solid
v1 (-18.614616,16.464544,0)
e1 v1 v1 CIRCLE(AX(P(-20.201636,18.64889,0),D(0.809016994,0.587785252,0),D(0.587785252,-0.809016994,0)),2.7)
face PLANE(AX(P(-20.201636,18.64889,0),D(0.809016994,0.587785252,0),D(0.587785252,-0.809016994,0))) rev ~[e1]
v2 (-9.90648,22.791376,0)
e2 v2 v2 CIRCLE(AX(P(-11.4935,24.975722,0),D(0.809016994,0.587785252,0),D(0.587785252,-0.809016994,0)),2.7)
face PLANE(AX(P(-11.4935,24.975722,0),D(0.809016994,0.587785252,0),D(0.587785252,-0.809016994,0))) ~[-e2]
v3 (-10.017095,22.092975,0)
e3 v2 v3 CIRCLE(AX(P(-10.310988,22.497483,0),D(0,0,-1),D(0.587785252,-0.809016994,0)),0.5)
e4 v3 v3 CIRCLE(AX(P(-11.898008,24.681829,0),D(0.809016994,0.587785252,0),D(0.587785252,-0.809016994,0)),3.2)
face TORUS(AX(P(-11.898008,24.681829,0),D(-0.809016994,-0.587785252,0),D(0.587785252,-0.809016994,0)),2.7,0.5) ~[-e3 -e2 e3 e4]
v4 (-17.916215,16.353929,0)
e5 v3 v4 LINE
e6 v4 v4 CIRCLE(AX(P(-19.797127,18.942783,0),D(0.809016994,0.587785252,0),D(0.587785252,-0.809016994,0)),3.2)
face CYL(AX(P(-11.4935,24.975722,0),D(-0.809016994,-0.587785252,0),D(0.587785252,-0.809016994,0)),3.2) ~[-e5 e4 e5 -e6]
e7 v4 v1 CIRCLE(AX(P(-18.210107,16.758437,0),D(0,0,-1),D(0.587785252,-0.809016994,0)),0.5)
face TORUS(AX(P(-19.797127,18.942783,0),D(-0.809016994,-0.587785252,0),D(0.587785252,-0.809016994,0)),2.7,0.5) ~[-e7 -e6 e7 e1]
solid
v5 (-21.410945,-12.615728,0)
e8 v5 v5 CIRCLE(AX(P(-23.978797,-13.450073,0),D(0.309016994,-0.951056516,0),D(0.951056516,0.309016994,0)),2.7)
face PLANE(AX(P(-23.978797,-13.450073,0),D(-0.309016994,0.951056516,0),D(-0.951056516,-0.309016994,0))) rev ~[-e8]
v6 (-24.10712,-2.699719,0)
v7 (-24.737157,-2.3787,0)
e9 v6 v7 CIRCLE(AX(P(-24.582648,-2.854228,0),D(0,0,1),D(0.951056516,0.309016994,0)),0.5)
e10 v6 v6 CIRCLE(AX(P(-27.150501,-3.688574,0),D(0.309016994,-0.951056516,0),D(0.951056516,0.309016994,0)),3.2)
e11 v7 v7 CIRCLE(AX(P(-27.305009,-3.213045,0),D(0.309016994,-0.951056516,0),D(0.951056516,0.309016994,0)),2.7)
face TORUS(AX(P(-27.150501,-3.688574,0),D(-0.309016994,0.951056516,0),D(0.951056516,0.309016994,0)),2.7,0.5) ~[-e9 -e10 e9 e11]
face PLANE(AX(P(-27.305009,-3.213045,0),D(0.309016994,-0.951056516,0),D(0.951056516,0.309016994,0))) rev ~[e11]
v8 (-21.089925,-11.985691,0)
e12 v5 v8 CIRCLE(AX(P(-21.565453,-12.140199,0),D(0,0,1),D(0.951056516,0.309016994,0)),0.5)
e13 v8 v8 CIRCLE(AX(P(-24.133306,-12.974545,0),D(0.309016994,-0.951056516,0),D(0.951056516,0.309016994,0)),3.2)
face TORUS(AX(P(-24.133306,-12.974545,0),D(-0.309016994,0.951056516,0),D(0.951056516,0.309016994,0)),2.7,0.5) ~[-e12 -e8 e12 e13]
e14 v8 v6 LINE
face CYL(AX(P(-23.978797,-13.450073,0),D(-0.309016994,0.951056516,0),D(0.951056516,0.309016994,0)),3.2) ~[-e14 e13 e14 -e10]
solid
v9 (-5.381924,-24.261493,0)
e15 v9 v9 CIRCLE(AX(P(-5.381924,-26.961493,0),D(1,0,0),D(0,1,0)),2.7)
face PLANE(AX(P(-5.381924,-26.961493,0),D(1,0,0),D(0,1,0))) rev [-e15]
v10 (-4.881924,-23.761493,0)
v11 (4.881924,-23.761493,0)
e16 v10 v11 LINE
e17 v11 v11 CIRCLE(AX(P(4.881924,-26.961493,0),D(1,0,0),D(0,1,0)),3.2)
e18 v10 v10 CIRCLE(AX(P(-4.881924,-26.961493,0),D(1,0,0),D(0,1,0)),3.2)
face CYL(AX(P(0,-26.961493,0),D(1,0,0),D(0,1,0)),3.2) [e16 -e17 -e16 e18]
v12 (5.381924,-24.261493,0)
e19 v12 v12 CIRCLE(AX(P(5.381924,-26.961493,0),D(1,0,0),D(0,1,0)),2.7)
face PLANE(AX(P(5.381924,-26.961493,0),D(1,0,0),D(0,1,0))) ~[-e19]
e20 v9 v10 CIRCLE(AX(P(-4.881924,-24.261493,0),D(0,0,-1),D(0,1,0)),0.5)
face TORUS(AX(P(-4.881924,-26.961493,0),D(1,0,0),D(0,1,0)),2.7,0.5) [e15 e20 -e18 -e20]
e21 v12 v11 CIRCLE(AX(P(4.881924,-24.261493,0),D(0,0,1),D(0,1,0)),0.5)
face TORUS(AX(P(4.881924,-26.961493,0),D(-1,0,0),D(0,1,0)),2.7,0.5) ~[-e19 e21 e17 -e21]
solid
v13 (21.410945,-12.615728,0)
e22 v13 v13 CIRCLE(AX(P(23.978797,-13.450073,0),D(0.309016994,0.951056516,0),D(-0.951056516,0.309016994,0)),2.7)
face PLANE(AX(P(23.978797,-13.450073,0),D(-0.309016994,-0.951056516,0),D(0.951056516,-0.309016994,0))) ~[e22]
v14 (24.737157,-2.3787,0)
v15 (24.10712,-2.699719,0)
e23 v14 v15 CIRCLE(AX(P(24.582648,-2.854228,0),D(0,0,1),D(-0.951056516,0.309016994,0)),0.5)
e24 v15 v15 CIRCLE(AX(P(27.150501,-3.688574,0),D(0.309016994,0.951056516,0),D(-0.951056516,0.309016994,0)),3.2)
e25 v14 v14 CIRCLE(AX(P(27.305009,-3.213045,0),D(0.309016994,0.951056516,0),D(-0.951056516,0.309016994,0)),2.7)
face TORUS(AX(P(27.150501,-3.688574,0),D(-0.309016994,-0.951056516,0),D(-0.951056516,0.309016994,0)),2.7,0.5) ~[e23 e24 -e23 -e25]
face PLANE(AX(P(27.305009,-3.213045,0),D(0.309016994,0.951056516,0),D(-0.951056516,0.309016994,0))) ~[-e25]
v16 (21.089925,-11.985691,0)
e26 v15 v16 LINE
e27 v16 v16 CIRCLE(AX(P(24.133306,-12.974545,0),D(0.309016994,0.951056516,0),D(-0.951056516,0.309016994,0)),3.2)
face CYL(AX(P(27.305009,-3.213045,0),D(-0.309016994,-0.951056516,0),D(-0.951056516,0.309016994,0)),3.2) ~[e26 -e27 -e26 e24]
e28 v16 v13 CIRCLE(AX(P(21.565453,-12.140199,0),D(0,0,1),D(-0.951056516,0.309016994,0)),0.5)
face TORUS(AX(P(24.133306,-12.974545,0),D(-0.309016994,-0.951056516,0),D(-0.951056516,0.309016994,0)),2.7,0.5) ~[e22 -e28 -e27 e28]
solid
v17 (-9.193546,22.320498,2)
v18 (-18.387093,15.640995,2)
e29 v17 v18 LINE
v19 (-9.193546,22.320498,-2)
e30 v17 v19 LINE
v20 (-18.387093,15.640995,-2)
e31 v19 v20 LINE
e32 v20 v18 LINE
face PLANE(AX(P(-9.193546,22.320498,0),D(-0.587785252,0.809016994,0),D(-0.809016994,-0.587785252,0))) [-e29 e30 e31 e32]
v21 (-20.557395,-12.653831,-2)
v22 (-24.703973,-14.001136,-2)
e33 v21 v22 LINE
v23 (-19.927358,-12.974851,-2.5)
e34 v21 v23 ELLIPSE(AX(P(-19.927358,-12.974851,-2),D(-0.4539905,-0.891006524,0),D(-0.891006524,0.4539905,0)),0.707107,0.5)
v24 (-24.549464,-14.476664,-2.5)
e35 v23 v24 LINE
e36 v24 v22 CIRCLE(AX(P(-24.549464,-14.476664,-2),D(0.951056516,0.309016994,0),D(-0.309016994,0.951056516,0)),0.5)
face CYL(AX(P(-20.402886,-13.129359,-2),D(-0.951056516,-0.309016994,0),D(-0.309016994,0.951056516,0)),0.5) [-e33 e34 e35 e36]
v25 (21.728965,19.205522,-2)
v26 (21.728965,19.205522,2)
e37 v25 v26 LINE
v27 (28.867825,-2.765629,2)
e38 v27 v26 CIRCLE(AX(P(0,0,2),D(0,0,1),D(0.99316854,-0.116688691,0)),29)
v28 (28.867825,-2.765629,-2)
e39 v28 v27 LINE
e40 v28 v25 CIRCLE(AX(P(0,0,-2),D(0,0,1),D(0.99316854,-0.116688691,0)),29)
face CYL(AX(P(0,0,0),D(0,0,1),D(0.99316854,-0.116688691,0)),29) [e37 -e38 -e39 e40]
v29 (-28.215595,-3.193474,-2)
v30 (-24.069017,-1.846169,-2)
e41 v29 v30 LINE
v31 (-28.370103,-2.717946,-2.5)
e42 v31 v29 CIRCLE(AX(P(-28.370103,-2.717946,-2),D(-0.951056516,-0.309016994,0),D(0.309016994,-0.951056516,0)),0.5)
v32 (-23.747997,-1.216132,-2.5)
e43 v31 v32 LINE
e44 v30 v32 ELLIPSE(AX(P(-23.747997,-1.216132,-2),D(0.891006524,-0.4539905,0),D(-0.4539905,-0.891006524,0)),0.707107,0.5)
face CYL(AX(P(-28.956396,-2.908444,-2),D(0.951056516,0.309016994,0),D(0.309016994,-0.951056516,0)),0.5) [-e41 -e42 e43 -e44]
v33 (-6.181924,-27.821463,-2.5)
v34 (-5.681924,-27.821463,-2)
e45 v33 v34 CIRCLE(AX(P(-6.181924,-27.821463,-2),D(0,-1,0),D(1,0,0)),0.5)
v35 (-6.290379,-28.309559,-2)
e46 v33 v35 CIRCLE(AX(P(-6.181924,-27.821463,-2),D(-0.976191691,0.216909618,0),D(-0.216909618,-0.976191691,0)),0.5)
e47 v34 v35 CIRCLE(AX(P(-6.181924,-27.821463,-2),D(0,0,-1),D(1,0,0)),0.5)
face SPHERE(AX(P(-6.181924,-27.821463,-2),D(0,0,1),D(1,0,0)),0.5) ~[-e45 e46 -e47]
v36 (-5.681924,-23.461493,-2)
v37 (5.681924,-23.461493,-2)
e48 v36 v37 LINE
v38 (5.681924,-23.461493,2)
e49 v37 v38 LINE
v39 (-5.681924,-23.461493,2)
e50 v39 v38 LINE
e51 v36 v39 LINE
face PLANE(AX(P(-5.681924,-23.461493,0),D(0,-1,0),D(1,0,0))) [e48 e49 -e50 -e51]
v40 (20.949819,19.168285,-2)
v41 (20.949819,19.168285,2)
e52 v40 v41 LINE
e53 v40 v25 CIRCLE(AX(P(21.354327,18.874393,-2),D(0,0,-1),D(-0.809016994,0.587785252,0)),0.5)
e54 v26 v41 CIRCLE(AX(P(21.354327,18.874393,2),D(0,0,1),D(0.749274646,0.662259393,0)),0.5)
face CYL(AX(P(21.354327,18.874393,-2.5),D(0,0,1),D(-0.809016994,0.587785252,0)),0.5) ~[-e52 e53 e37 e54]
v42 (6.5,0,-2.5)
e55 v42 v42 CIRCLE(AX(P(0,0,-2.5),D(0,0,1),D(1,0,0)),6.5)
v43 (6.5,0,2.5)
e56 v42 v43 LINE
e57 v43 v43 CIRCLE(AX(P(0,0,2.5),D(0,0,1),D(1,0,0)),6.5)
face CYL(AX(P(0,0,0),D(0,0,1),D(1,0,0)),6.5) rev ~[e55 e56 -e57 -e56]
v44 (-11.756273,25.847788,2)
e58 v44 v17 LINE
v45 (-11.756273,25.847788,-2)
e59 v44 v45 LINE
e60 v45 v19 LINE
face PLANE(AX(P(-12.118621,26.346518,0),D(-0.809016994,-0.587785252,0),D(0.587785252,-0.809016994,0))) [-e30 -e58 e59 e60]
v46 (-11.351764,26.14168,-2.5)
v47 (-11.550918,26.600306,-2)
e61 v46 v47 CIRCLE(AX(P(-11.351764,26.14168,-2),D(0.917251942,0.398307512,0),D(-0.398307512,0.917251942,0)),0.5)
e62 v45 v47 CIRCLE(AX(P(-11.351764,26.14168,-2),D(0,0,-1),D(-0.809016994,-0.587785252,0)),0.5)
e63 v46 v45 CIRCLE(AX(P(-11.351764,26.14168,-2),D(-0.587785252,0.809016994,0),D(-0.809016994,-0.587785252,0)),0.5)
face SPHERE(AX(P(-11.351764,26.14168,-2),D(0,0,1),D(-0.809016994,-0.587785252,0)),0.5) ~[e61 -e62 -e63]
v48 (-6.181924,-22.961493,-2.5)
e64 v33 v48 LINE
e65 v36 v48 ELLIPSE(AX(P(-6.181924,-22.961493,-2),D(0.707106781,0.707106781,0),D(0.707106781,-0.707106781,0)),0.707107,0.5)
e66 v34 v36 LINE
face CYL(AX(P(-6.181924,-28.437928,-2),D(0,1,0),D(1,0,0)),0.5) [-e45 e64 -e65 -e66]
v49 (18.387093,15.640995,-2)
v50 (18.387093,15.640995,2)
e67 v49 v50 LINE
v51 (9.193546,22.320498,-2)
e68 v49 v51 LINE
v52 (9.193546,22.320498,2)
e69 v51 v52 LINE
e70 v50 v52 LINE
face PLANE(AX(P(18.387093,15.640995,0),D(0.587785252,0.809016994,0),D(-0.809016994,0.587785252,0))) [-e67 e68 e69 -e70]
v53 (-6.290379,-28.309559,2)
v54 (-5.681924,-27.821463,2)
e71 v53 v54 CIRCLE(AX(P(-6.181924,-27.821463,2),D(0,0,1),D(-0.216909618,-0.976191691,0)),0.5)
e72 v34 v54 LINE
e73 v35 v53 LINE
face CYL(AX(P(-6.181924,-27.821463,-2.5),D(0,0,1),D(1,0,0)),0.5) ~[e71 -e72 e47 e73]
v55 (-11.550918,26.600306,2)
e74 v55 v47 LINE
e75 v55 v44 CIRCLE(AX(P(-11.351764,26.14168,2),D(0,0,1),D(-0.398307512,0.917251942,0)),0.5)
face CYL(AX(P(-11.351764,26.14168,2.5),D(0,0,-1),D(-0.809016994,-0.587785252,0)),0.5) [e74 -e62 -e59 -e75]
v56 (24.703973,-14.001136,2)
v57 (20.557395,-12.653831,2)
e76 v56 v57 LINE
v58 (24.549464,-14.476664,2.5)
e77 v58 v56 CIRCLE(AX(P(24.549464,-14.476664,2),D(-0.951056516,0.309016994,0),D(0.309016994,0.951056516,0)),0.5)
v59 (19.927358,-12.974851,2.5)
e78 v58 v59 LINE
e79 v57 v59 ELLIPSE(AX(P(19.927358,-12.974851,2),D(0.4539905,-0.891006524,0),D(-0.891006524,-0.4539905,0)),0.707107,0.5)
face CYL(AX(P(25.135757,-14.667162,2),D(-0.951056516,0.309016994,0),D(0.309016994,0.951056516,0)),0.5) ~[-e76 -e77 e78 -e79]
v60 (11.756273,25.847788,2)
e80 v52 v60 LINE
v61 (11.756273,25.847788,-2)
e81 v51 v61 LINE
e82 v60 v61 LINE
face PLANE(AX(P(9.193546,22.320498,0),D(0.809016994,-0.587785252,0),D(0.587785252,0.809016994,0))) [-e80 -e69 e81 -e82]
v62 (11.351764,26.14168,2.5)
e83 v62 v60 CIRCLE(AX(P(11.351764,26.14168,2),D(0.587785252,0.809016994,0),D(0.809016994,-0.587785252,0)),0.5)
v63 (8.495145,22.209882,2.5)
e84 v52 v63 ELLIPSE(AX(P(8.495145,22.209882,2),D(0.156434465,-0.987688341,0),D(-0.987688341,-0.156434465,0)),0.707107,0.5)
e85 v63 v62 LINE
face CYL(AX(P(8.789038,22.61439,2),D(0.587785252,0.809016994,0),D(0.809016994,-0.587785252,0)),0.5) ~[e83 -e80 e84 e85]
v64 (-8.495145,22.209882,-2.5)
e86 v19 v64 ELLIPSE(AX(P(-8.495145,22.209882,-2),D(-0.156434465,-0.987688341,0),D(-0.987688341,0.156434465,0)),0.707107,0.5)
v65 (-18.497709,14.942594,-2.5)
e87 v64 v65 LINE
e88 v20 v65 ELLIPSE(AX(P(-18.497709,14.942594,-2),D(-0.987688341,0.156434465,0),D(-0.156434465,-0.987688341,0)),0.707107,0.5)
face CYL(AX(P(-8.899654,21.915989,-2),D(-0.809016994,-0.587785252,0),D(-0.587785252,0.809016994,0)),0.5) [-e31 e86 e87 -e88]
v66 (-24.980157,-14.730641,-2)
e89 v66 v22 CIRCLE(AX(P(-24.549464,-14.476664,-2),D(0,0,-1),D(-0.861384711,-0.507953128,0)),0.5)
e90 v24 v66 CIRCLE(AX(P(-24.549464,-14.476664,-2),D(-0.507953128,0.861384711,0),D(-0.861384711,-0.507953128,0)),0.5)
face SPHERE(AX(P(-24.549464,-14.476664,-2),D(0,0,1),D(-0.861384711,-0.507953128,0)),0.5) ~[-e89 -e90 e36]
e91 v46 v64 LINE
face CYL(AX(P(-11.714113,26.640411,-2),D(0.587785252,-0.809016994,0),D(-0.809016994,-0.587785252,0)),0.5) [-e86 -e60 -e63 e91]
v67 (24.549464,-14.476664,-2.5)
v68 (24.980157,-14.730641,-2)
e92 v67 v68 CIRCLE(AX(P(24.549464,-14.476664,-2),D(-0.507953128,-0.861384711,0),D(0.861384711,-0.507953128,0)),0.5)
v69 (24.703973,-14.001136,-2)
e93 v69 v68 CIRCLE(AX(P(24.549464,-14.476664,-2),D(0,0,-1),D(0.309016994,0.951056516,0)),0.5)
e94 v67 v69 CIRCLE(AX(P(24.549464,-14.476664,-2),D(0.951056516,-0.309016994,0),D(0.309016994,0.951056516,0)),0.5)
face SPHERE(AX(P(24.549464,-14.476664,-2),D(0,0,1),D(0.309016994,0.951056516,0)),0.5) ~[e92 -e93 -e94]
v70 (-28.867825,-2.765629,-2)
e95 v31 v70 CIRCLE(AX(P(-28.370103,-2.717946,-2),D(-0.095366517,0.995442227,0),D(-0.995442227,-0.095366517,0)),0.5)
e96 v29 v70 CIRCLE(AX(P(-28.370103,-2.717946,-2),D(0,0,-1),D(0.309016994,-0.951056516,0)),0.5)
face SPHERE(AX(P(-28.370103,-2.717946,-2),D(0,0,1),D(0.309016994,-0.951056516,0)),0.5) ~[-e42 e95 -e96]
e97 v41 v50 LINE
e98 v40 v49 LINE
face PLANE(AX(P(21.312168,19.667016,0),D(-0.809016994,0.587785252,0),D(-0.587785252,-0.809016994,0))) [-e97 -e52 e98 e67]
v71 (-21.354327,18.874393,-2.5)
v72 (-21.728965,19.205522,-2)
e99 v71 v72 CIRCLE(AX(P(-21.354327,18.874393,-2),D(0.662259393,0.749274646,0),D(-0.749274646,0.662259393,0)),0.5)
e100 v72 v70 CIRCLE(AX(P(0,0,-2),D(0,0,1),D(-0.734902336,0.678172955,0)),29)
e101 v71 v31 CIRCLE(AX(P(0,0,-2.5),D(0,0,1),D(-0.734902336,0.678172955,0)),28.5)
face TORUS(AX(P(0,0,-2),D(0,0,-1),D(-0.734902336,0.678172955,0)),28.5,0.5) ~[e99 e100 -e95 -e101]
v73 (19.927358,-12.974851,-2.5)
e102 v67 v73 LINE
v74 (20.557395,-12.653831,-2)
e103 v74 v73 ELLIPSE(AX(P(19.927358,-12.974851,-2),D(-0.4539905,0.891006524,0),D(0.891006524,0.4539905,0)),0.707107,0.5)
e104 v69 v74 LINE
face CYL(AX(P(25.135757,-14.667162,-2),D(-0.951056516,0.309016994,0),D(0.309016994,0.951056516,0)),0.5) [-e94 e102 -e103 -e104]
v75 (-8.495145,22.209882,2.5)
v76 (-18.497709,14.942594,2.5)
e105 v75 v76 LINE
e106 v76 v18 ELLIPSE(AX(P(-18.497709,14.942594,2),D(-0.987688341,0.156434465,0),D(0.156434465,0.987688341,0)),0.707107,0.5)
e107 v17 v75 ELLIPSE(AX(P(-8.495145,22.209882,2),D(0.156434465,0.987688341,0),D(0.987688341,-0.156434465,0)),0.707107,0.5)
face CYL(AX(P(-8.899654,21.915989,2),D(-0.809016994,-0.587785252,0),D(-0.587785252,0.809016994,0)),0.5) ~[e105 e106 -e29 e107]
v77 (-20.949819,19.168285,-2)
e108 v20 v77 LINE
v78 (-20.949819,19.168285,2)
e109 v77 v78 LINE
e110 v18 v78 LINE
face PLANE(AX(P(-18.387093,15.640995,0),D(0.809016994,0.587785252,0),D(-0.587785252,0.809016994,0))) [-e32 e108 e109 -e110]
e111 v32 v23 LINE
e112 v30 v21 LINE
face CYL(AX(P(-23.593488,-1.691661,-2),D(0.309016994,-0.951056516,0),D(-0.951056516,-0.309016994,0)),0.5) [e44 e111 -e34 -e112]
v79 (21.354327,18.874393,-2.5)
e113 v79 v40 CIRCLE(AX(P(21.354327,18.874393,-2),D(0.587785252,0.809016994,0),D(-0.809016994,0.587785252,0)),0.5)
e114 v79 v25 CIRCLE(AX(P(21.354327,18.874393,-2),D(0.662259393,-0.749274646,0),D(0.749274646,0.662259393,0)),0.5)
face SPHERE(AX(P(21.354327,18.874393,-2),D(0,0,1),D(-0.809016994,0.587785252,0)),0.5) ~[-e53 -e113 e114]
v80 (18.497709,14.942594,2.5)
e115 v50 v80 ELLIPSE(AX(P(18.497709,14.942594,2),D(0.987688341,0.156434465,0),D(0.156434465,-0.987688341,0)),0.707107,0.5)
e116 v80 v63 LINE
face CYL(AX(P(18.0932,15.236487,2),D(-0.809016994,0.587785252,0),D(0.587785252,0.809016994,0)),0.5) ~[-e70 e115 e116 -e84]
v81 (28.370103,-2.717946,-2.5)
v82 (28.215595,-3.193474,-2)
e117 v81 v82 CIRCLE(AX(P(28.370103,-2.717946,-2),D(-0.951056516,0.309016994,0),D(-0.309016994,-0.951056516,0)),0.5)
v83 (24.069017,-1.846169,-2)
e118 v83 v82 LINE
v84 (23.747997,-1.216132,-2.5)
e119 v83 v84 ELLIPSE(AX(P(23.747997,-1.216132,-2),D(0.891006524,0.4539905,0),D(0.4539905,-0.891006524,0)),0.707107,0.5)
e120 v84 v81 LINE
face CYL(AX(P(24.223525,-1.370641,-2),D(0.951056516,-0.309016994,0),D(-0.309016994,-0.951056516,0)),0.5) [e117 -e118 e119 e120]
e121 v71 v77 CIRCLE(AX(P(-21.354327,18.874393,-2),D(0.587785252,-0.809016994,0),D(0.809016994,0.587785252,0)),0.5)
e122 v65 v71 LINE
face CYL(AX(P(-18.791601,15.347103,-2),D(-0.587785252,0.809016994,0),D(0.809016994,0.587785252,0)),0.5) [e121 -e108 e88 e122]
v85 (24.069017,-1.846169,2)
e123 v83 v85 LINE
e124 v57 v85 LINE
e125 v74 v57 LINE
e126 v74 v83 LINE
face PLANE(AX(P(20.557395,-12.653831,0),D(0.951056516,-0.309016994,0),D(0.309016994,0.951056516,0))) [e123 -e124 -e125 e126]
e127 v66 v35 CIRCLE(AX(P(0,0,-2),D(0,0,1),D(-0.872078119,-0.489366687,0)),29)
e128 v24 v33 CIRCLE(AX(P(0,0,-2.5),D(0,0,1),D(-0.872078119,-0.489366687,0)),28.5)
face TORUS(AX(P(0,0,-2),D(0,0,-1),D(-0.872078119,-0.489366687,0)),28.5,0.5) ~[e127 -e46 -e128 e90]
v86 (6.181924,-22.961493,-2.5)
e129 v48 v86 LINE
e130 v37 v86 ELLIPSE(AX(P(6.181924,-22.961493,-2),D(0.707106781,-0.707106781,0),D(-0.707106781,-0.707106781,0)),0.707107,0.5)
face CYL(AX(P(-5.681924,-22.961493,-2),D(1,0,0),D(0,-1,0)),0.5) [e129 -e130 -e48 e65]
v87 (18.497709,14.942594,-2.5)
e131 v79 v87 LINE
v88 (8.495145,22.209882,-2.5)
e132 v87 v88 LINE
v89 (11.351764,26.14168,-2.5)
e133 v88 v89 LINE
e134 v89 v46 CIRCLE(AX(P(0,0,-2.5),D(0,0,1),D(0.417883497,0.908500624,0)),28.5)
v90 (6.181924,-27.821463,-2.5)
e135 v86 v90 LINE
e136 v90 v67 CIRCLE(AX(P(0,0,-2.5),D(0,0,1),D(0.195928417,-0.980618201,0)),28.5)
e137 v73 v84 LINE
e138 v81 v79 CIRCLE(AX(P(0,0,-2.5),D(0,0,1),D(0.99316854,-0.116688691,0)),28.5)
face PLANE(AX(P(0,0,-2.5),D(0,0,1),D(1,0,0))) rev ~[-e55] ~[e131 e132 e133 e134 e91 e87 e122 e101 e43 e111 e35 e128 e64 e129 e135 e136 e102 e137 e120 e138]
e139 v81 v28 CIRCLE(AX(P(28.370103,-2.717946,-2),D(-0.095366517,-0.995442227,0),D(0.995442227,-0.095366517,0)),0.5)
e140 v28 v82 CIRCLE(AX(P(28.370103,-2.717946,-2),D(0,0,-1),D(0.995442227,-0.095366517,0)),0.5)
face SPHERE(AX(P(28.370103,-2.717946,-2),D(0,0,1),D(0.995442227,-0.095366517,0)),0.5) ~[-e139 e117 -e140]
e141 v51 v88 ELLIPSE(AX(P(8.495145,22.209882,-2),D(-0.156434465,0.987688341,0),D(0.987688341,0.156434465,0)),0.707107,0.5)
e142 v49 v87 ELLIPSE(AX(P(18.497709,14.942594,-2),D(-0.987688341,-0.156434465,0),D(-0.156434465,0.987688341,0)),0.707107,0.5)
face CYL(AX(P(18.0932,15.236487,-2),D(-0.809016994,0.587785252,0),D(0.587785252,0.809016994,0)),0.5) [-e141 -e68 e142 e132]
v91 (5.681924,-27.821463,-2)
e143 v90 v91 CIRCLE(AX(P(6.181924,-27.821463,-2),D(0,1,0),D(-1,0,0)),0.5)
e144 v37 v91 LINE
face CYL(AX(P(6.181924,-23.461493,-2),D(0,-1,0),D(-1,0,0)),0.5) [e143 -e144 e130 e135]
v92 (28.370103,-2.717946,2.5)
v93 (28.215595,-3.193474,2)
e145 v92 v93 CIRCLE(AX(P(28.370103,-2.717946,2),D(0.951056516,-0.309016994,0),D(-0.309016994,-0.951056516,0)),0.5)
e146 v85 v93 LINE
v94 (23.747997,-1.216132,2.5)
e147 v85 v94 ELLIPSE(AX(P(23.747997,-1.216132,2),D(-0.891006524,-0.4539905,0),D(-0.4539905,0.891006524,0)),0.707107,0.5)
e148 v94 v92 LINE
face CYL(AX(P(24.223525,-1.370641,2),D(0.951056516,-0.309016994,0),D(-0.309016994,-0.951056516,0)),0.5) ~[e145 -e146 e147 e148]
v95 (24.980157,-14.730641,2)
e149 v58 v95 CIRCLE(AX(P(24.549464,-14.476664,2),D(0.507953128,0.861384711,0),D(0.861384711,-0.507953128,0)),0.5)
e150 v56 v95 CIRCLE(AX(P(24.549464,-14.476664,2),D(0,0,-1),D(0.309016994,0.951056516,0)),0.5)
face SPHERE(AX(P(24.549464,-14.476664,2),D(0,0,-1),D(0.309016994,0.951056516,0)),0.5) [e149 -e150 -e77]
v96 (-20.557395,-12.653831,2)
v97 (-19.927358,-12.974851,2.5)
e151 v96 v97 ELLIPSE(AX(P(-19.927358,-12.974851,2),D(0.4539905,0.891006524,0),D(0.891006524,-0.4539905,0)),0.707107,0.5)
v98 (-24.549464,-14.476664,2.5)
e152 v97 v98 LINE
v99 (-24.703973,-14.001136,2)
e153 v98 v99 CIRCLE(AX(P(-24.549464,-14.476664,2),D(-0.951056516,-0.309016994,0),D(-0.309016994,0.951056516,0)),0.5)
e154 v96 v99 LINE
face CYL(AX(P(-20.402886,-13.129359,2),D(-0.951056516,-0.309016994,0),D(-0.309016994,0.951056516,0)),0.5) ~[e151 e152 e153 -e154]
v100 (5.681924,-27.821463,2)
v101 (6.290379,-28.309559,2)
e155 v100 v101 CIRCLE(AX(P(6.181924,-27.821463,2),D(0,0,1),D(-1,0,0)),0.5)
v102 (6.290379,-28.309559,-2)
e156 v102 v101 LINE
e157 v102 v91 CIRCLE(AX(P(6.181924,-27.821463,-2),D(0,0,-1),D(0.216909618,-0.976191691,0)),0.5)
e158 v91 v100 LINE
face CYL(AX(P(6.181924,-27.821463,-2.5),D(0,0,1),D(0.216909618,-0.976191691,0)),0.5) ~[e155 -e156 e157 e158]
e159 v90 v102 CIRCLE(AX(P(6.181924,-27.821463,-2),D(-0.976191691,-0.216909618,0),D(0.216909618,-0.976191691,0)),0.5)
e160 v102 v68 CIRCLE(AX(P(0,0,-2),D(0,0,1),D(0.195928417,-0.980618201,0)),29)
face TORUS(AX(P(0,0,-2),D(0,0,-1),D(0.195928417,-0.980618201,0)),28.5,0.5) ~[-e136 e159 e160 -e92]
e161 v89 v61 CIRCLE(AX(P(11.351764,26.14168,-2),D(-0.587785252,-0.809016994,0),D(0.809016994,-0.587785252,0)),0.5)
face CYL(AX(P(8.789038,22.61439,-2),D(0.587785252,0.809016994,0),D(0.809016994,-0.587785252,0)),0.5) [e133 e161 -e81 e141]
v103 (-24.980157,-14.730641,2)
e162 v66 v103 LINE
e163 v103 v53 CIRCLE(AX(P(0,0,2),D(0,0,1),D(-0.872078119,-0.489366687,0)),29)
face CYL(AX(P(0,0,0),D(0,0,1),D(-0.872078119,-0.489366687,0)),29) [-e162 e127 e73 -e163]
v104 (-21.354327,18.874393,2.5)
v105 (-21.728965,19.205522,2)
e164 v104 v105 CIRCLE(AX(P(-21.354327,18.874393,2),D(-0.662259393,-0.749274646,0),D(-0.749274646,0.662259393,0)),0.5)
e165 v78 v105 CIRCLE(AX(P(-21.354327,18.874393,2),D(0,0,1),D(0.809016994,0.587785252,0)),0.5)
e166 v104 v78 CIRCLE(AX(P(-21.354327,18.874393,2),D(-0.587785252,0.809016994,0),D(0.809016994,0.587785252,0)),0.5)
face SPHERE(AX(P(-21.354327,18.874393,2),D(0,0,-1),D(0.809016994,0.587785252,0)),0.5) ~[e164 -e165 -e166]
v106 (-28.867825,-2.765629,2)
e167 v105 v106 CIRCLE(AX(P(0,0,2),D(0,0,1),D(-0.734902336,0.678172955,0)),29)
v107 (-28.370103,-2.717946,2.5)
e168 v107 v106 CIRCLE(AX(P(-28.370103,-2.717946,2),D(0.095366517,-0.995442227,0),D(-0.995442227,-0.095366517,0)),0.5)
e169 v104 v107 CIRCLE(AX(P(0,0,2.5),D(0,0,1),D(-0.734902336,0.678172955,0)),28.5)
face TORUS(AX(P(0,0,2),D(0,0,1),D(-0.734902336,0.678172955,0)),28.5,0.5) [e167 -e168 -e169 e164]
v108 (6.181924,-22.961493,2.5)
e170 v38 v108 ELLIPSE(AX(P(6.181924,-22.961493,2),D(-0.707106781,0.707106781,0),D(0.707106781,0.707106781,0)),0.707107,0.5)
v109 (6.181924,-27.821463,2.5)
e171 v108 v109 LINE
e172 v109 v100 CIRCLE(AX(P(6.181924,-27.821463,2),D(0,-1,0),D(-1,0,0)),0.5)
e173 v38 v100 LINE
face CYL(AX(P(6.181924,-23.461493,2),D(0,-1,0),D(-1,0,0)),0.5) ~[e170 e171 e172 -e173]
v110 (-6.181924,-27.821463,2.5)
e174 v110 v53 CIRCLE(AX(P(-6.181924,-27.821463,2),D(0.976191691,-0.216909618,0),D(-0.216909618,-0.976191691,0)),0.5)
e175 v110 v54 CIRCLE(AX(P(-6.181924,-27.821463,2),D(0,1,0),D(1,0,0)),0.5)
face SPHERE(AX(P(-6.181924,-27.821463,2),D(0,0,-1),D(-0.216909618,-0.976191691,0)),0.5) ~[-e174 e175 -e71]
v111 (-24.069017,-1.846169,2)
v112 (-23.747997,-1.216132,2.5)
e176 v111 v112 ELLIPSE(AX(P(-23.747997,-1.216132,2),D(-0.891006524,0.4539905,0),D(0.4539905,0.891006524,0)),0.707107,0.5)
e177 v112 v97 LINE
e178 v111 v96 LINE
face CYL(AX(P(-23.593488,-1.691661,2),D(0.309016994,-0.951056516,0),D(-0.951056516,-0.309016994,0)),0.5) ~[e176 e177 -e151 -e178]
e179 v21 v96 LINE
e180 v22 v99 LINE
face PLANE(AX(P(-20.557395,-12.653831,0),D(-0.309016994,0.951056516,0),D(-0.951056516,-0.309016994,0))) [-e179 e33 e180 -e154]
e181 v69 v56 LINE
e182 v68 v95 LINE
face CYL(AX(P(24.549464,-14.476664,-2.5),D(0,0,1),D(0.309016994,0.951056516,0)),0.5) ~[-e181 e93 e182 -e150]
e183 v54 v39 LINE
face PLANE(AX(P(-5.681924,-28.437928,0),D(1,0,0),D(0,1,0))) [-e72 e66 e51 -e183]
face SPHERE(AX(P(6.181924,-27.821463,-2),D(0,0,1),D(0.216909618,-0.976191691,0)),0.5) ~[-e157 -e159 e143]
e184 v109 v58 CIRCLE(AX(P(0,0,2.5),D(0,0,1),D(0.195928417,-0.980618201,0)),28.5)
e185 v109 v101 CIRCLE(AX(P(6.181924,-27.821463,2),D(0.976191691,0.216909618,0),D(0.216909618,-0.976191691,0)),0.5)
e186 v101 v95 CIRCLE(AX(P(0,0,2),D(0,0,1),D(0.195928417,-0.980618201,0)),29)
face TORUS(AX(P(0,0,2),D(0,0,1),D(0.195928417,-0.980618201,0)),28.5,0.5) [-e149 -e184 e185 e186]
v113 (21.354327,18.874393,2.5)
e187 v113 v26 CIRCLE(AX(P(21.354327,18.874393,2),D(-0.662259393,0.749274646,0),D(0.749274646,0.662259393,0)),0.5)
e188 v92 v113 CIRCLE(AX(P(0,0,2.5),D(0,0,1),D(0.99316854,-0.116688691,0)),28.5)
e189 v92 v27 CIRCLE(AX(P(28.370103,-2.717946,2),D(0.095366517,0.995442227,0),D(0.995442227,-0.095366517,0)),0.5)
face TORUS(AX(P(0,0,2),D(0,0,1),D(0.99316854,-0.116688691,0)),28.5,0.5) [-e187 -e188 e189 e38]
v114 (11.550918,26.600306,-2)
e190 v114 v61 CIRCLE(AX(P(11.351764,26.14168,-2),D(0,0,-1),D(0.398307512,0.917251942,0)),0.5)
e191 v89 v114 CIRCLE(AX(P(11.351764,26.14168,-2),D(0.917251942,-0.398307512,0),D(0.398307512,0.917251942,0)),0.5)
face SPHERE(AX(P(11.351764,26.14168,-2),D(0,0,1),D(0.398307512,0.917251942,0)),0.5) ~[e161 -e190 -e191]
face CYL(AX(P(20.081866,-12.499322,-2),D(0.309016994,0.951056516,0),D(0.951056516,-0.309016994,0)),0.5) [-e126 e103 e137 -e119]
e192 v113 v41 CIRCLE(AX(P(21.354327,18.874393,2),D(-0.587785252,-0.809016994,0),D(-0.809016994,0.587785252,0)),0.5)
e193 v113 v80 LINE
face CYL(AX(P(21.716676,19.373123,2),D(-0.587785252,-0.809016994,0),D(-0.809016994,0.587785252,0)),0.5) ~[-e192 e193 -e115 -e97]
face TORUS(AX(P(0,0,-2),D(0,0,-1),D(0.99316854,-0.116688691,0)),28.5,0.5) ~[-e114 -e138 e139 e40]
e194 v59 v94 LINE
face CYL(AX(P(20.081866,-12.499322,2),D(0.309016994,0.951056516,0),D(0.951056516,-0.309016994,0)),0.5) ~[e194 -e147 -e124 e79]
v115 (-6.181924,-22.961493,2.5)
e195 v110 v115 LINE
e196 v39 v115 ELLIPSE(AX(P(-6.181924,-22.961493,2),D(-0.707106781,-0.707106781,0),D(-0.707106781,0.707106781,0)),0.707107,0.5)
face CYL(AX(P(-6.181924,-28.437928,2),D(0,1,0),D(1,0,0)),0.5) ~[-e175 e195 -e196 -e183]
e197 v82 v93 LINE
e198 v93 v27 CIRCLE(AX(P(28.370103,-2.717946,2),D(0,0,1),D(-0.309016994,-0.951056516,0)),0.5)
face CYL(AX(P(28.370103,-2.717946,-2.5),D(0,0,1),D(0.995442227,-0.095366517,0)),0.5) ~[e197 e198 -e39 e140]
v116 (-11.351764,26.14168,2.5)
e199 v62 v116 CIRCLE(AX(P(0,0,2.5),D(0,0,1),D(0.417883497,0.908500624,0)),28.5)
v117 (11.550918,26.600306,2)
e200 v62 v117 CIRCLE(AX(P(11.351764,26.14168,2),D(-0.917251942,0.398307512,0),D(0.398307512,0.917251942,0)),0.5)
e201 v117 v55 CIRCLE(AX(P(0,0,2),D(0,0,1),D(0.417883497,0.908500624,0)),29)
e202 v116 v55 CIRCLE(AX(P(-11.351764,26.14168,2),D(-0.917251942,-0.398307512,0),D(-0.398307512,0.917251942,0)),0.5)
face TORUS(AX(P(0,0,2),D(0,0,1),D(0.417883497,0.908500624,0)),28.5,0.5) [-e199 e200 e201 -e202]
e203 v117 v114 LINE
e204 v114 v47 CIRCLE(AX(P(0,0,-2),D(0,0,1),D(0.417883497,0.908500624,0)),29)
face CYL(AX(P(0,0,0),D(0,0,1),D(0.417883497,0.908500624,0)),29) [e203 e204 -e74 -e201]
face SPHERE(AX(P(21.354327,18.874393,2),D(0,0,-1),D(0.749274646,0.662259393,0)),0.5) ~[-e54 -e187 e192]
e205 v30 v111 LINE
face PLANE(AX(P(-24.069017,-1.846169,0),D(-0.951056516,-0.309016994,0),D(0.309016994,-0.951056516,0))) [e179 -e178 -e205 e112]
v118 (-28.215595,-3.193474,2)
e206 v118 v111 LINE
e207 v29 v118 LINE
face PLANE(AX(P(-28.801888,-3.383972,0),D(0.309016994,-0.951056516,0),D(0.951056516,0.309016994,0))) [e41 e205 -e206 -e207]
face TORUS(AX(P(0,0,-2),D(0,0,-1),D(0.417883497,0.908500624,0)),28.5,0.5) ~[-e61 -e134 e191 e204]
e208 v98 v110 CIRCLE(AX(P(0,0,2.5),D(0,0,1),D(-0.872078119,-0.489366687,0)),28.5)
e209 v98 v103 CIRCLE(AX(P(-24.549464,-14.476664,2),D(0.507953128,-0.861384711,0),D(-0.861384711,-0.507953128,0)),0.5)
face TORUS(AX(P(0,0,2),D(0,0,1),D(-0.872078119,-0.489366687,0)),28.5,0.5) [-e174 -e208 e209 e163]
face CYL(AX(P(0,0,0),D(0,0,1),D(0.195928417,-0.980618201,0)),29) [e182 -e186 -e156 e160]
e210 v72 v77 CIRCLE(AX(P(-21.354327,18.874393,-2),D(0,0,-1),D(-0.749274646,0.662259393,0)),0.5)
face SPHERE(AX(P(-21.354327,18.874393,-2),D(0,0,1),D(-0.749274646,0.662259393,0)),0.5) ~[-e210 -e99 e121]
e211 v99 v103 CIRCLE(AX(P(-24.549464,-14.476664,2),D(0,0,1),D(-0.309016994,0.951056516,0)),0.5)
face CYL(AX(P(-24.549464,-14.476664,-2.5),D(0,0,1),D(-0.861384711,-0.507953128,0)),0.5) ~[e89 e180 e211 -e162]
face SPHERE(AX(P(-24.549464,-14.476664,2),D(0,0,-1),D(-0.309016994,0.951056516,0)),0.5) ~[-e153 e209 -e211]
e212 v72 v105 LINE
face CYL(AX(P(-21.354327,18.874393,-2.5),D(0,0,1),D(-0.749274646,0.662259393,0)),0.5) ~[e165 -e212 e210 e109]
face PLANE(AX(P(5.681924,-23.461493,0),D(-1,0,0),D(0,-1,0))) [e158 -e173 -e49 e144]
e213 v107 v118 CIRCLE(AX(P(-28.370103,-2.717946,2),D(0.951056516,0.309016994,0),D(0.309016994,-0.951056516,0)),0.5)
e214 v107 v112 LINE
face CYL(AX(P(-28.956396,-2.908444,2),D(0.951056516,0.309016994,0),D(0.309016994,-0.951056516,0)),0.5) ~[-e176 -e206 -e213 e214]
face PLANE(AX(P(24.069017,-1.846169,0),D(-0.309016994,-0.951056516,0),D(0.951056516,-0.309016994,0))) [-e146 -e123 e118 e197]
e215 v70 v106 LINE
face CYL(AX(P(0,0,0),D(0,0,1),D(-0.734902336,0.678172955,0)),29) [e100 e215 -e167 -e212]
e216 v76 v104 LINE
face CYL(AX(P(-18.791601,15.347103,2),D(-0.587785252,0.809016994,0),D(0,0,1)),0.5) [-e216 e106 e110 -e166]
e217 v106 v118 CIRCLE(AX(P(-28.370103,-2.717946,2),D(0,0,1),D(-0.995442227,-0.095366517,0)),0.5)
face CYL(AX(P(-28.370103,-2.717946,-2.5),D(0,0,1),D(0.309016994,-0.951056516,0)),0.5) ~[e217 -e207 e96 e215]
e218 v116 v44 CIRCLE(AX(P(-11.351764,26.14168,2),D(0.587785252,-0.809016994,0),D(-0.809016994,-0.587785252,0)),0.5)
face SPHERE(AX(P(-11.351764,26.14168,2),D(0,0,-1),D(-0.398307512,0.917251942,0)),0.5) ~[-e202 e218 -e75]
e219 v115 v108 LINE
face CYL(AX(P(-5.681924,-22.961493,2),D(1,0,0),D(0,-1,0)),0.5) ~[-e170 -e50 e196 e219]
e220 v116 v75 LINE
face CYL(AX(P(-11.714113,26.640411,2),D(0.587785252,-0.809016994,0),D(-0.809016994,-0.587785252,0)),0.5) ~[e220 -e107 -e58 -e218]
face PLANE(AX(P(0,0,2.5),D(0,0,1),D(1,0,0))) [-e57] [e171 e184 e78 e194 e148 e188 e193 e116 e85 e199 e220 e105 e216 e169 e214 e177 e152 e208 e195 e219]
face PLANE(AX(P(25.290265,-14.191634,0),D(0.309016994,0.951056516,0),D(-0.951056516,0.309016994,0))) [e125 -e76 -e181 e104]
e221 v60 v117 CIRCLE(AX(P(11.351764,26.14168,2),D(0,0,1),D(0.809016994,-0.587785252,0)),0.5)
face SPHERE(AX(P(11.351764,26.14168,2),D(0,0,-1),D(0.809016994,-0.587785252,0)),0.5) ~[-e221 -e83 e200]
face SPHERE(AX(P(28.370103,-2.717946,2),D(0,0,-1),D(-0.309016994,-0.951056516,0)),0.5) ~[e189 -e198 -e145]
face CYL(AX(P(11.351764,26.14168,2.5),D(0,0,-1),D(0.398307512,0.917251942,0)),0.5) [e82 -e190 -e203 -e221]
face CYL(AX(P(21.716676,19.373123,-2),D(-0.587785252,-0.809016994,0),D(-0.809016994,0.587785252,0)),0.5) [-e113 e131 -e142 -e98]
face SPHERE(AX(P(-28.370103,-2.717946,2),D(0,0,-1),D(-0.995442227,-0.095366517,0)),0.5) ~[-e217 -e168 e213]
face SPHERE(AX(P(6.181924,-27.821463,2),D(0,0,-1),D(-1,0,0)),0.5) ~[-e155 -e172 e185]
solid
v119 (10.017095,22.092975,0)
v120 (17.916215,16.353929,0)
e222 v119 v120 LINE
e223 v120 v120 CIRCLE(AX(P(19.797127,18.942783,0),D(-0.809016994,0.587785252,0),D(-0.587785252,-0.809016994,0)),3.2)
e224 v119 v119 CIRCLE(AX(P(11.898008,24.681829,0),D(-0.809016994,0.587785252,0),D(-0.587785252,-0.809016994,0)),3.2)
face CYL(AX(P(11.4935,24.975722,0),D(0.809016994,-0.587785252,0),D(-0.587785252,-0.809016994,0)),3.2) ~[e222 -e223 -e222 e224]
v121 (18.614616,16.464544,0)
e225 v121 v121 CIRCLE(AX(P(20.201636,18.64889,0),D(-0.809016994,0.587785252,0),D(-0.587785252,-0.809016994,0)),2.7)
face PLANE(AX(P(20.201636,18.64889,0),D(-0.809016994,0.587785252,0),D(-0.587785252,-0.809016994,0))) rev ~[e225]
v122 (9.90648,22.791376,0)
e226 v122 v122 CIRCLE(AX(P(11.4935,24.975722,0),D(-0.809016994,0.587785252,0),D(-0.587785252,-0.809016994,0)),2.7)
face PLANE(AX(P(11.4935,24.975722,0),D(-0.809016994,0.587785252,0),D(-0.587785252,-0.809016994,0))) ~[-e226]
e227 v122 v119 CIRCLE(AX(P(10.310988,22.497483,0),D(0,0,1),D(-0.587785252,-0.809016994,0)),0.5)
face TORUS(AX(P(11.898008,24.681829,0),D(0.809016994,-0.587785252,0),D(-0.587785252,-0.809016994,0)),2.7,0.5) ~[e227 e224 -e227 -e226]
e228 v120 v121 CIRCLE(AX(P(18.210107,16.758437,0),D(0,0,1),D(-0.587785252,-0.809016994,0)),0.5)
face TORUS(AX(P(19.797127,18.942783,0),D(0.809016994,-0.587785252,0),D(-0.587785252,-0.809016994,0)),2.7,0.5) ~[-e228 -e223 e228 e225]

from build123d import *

# Parameters (mm, degrees)
BOSS_EXTRUDE1_DEPTH = 2.5
SKETCH9_W           = 10.763848212
SKETCH9_H           = 3.2
FILLET1_R           = 0.5
FILLET2_R           = 0.5
FILLET3_R           = 0.5
FILLET4_R           = 0.5
FILLET5_R           = 0.5
FILLET6_R           = 0.5
SKETCH12_R          = 6.5
CUT_EXTRUDE1_DEPTH  = 2.5


with BuildPart() as part:
    # Sketch1 → Boss-Extrude1 (new body, symmetric)
    with BuildSketch(Plane.XY):
        with BuildLine():
            Line((-9.193546323, 22.320497613), (-18.387092649, 15.640995224))
            Line((-18.387092649, 15.640995224), (-21.312167739, 19.667015693))
            ThreePointArc((-21.312167739, 19.667015693), (-27.580638973, 8.961492837), (-28.801887669, -3.383972033))
            Line((-28.801887669, -3.383972033), (-24.069016754, -1.846169053))
            Line((-24.069016754, -1.846169053), (-20.557394535, -12.653830947))
            Line((-20.557394535, -12.653830947), (-25.290265449, -14.191633926))
            ThreePointArc((-25.290265449, -14.191633926), (-17.045772316, -23.461492837), (-5.681924106, -28.437927816))
            Line((-5.681924106, -28.437927816), (-5.681924106, -23.461492837))
            Line((-5.681924106, -23.461492837), (5.681924106, -23.461492837))
            Line((5.681924106, -23.461492837), (5.681924106, -28.437927816))
            ThreePointArc((5.681924106, -28.437927816), (17.045772316, -23.461492837), (25.290265449, -14.191633926))
            Line((25.290265449, -14.191633926), (20.557394535, -12.653830947))
            Line((20.557394535, -12.653830947), (24.069016754, -1.846169053))
            Line((24.069016754, -1.846169053), (28.801887669, -3.383972033))
            ThreePointArc((28.801887669, -3.383972033), (27.580638973, 8.961492837), (21.312167739, 19.667015693))
            Line((21.312167739, 19.667015693), (18.387092649, 15.640995224))
            Line((18.387092649, 15.640995224), (9.193546323, 22.320497613))
            Line((9.193546323, 22.320497613), (12.118621413, 26.346518082))
            ThreePointArc((12.118621413, 26.346518082), (0, 29), (-12.118621413, 26.346518082))
            Line((-12.118621413, 26.346518082), (-9.193546323, 22.320497613))
        make_face()
    extrude(amount=BOSS_EXTRUDE1_DEPTH, both=True)

    # Fillet1
    fillet1_edges = [part.edges().sort_by_distance(p)[0] for p in [
        (-26.435452211, -2.615070543, 2.5),
        (-22.313205645, -7.25, 2.5),
        (-22.923829992, -13.422732436, 2.5),
        (-13.790319486, 18.980746418, -2.5),
        (-10.656083868, 24.333507847, -2.5),
        (0, 29, -2.5),
        (10.656083868, 24.333507847, -2.5),
        (13.790319486, 18.980746418, -2.5),
        (-17.045772316, -23.461492837, 2.5),
        (19.849630194, 17.654005459, -2.5),
        (27.580638973, 8.961492837, -2.5),
        (26.435452211, -2.615070543, -2.5),
        (22.313205645, -7.25, -2.5),
        (22.923829992, -13.422732436, -2.5),
        (17.045772316, -23.461492837, -2.5),
        (5.681924106, -25.949710326, -2.5),
        (-5.681924106, -25.949710326, 2.5),
        (0, -23.461492837, -2.5),
        (-5.681924106, -25.949710326, -2.5),
        (-17.045772316, -23.461492837, -2.5),
        (-22.923829992, -13.422732436, -2.5),
        (-22.313205645, -7.25, -2.5),
        (-26.435452211, -2.615070543, -2.5),
        (-27.580638973, 8.961492837, -2.5),
        (-19.849630194, 17.654005459, -2.5),
        (0, -23.461492837, 2.5),
        (5.681924106, -25.949710326, 2.5),
        (17.045772316, -23.461492837, 2.5),
        (-12.118621413, 26.346518082, 0),
        (12.118621413, 26.346518082, 0),
        (21.312167739, 19.667015693, 0),
        (28.801887669, -3.383972033, 0),
        (25.290265449, -14.191633926, 0),
        (5.681924106, -28.437927816, 0),
        (-5.681924106, -28.437927816, 0),
        (-25.290265449, -14.191633926, 0),
        (-28.801887669, -3.383972033, 0),
        (-21.312167739, 19.667015693, 0),
        (22.923829992, -13.422732436, 2.5),
        (22.313205645, -7.25, 2.5),
        (-19.849630194, 17.654005459, 2.5),
        (26.435452211, -2.615070543, 2.5),
        (27.580638973, 8.961492837, 2.5),
        (19.849630194, 17.654005459, 2.5),
        (13.790319486, 18.980746418, 2.5),
        (10.656083868, 24.333507847, 2.5),
        (0, 29, 2.5),
        (-10.656083868, 24.333507847, 2.5),
        (-13.790319486, 18.980746418, 2.5),
        (-27.580638973, 8.961492837, 2.5),
    ]]
    fillet(fillet1_edges, radius=FILLET1_R)

    # Sketch12 → Cut-Extrude1 (cut, symmetric)
    with BuildSketch(Plane.XY):
        Circle(SKETCH12_R)
    extrude(amount=CUT_EXTRUDE1_DEPTH, both=True, mode=Mode.SUBTRACT)


with BuildPart() as body_2:
    # Sketch2 → Revolve1 (revolve)
    with BuildSketch(Plane.XY):
        Polygon((-20.201635934, 18.64889028), (-11.493499805, 24.975721517), (-9.612586997, 22.386867135), (-18.320723127, 16.060035898), align=None)
    revolve(axis=Axis((-20.201635934, 18.64889028, 0), (0.809016994, 0.587785252, 0)))

    # Fillet5
    fillet5_edges = [body_2.edges().sort_by_distance(p)[0] for p in [
        (-13.374412612, 27.564575899, 0),
        (-22.082548741, 21.237744662, 0),
    ]]
    fillet(fillet5_edges, radius=FILLET5_R)


with BuildPart() as body_3:
    # Sketch8 → Revolve2 (revolve)
    with BuildSketch(Plane.XY):
        Polygon((-27.305009463, -3.213045489), (-23.97879744, -13.450073472), (-20.935416588, -12.46121909), (-24.261628611, -2.224191107), align=None)
    revolve(axis=Axis((-27.305009463, -3.213045489, 0), (0.309016994, -0.951056516, 0)))

    # Fillet6
    fillet6_edges = [body_3.edges().sort_by_distance(p)[0] for p in [
        (-30.348390315, -4.201899871, 0),
        (-27.022178292, -14.438927854, 0),
    ]]
    fillet(fillet6_edges, radius=FILLET6_R)


with BuildPart() as body_4:
    # Sketch9 → Revolve3 (revolve)
    with BuildSketch(Plane.XY):
        with Locations((0, -25.361492837)):
            Rectangle(SKETCH9_W, SKETCH9_H)
    revolve(axis=Axis((-5.381924106, -26.961492837, 0), (1, 0, 0)))

    # Fillet2
    fillet2_edges = [body_4.edges().sort_by_distance(p)[0] for p in [
        (-5.381924106, -30.161492837, 0),
        (5.381924106, -30.161492837, 0),
    ]]
    fillet(fillet2_edges, radius=FILLET2_R)


with BuildPart() as body_5:
    # Sketch10 → Revolve4 (revolve)
    with BuildSketch(Plane.XY):
        Polygon((23.97879744, -13.450073472), (27.305009463, -3.213045489), (24.261628611, -2.224191107), (20.935416588, -12.46121909), align=None)
    revolve(axis=Axis((23.97879744, -13.450073472, 0), (0.309016994, 0.951056516, 0)))

    # Fillet3
    fillet3_edges = [body_5.edges().sort_by_distance(p)[0] for p in [
        (27.022178292, -14.438927854, 0),
        (30.348390315, -4.201899871, 0),
    ]]
    fillet(fillet3_edges, radius=FILLET3_R)


with BuildPart() as body_6:
    # Sketch11 → Revolve5 (revolve)
    with BuildSketch(Plane.XY):
        Polygon((20.201635934, 18.64889028), (11.493499805, 24.975721517), (9.612586997, 22.386867135), (18.320723127, 16.060035898), align=None)
    revolve(axis=Axis((20.201635934, 18.64889028, 0), (-0.809016994, 0.587785252, 0)))

    # Fillet4
    fillet4_edges = [body_6.edges().sort_by_distance(p)[0] for p in [
        (13.374412612, 27.564575899, 0),
        (22.082548741, 21.237744662, 0),
    ]]
    fillet(fillet4_edges, radius=FILLET4_R)


solid = Compound([part.part, body_2.part, body_3.part, body_4.part, body_5.part, body_6.part])
